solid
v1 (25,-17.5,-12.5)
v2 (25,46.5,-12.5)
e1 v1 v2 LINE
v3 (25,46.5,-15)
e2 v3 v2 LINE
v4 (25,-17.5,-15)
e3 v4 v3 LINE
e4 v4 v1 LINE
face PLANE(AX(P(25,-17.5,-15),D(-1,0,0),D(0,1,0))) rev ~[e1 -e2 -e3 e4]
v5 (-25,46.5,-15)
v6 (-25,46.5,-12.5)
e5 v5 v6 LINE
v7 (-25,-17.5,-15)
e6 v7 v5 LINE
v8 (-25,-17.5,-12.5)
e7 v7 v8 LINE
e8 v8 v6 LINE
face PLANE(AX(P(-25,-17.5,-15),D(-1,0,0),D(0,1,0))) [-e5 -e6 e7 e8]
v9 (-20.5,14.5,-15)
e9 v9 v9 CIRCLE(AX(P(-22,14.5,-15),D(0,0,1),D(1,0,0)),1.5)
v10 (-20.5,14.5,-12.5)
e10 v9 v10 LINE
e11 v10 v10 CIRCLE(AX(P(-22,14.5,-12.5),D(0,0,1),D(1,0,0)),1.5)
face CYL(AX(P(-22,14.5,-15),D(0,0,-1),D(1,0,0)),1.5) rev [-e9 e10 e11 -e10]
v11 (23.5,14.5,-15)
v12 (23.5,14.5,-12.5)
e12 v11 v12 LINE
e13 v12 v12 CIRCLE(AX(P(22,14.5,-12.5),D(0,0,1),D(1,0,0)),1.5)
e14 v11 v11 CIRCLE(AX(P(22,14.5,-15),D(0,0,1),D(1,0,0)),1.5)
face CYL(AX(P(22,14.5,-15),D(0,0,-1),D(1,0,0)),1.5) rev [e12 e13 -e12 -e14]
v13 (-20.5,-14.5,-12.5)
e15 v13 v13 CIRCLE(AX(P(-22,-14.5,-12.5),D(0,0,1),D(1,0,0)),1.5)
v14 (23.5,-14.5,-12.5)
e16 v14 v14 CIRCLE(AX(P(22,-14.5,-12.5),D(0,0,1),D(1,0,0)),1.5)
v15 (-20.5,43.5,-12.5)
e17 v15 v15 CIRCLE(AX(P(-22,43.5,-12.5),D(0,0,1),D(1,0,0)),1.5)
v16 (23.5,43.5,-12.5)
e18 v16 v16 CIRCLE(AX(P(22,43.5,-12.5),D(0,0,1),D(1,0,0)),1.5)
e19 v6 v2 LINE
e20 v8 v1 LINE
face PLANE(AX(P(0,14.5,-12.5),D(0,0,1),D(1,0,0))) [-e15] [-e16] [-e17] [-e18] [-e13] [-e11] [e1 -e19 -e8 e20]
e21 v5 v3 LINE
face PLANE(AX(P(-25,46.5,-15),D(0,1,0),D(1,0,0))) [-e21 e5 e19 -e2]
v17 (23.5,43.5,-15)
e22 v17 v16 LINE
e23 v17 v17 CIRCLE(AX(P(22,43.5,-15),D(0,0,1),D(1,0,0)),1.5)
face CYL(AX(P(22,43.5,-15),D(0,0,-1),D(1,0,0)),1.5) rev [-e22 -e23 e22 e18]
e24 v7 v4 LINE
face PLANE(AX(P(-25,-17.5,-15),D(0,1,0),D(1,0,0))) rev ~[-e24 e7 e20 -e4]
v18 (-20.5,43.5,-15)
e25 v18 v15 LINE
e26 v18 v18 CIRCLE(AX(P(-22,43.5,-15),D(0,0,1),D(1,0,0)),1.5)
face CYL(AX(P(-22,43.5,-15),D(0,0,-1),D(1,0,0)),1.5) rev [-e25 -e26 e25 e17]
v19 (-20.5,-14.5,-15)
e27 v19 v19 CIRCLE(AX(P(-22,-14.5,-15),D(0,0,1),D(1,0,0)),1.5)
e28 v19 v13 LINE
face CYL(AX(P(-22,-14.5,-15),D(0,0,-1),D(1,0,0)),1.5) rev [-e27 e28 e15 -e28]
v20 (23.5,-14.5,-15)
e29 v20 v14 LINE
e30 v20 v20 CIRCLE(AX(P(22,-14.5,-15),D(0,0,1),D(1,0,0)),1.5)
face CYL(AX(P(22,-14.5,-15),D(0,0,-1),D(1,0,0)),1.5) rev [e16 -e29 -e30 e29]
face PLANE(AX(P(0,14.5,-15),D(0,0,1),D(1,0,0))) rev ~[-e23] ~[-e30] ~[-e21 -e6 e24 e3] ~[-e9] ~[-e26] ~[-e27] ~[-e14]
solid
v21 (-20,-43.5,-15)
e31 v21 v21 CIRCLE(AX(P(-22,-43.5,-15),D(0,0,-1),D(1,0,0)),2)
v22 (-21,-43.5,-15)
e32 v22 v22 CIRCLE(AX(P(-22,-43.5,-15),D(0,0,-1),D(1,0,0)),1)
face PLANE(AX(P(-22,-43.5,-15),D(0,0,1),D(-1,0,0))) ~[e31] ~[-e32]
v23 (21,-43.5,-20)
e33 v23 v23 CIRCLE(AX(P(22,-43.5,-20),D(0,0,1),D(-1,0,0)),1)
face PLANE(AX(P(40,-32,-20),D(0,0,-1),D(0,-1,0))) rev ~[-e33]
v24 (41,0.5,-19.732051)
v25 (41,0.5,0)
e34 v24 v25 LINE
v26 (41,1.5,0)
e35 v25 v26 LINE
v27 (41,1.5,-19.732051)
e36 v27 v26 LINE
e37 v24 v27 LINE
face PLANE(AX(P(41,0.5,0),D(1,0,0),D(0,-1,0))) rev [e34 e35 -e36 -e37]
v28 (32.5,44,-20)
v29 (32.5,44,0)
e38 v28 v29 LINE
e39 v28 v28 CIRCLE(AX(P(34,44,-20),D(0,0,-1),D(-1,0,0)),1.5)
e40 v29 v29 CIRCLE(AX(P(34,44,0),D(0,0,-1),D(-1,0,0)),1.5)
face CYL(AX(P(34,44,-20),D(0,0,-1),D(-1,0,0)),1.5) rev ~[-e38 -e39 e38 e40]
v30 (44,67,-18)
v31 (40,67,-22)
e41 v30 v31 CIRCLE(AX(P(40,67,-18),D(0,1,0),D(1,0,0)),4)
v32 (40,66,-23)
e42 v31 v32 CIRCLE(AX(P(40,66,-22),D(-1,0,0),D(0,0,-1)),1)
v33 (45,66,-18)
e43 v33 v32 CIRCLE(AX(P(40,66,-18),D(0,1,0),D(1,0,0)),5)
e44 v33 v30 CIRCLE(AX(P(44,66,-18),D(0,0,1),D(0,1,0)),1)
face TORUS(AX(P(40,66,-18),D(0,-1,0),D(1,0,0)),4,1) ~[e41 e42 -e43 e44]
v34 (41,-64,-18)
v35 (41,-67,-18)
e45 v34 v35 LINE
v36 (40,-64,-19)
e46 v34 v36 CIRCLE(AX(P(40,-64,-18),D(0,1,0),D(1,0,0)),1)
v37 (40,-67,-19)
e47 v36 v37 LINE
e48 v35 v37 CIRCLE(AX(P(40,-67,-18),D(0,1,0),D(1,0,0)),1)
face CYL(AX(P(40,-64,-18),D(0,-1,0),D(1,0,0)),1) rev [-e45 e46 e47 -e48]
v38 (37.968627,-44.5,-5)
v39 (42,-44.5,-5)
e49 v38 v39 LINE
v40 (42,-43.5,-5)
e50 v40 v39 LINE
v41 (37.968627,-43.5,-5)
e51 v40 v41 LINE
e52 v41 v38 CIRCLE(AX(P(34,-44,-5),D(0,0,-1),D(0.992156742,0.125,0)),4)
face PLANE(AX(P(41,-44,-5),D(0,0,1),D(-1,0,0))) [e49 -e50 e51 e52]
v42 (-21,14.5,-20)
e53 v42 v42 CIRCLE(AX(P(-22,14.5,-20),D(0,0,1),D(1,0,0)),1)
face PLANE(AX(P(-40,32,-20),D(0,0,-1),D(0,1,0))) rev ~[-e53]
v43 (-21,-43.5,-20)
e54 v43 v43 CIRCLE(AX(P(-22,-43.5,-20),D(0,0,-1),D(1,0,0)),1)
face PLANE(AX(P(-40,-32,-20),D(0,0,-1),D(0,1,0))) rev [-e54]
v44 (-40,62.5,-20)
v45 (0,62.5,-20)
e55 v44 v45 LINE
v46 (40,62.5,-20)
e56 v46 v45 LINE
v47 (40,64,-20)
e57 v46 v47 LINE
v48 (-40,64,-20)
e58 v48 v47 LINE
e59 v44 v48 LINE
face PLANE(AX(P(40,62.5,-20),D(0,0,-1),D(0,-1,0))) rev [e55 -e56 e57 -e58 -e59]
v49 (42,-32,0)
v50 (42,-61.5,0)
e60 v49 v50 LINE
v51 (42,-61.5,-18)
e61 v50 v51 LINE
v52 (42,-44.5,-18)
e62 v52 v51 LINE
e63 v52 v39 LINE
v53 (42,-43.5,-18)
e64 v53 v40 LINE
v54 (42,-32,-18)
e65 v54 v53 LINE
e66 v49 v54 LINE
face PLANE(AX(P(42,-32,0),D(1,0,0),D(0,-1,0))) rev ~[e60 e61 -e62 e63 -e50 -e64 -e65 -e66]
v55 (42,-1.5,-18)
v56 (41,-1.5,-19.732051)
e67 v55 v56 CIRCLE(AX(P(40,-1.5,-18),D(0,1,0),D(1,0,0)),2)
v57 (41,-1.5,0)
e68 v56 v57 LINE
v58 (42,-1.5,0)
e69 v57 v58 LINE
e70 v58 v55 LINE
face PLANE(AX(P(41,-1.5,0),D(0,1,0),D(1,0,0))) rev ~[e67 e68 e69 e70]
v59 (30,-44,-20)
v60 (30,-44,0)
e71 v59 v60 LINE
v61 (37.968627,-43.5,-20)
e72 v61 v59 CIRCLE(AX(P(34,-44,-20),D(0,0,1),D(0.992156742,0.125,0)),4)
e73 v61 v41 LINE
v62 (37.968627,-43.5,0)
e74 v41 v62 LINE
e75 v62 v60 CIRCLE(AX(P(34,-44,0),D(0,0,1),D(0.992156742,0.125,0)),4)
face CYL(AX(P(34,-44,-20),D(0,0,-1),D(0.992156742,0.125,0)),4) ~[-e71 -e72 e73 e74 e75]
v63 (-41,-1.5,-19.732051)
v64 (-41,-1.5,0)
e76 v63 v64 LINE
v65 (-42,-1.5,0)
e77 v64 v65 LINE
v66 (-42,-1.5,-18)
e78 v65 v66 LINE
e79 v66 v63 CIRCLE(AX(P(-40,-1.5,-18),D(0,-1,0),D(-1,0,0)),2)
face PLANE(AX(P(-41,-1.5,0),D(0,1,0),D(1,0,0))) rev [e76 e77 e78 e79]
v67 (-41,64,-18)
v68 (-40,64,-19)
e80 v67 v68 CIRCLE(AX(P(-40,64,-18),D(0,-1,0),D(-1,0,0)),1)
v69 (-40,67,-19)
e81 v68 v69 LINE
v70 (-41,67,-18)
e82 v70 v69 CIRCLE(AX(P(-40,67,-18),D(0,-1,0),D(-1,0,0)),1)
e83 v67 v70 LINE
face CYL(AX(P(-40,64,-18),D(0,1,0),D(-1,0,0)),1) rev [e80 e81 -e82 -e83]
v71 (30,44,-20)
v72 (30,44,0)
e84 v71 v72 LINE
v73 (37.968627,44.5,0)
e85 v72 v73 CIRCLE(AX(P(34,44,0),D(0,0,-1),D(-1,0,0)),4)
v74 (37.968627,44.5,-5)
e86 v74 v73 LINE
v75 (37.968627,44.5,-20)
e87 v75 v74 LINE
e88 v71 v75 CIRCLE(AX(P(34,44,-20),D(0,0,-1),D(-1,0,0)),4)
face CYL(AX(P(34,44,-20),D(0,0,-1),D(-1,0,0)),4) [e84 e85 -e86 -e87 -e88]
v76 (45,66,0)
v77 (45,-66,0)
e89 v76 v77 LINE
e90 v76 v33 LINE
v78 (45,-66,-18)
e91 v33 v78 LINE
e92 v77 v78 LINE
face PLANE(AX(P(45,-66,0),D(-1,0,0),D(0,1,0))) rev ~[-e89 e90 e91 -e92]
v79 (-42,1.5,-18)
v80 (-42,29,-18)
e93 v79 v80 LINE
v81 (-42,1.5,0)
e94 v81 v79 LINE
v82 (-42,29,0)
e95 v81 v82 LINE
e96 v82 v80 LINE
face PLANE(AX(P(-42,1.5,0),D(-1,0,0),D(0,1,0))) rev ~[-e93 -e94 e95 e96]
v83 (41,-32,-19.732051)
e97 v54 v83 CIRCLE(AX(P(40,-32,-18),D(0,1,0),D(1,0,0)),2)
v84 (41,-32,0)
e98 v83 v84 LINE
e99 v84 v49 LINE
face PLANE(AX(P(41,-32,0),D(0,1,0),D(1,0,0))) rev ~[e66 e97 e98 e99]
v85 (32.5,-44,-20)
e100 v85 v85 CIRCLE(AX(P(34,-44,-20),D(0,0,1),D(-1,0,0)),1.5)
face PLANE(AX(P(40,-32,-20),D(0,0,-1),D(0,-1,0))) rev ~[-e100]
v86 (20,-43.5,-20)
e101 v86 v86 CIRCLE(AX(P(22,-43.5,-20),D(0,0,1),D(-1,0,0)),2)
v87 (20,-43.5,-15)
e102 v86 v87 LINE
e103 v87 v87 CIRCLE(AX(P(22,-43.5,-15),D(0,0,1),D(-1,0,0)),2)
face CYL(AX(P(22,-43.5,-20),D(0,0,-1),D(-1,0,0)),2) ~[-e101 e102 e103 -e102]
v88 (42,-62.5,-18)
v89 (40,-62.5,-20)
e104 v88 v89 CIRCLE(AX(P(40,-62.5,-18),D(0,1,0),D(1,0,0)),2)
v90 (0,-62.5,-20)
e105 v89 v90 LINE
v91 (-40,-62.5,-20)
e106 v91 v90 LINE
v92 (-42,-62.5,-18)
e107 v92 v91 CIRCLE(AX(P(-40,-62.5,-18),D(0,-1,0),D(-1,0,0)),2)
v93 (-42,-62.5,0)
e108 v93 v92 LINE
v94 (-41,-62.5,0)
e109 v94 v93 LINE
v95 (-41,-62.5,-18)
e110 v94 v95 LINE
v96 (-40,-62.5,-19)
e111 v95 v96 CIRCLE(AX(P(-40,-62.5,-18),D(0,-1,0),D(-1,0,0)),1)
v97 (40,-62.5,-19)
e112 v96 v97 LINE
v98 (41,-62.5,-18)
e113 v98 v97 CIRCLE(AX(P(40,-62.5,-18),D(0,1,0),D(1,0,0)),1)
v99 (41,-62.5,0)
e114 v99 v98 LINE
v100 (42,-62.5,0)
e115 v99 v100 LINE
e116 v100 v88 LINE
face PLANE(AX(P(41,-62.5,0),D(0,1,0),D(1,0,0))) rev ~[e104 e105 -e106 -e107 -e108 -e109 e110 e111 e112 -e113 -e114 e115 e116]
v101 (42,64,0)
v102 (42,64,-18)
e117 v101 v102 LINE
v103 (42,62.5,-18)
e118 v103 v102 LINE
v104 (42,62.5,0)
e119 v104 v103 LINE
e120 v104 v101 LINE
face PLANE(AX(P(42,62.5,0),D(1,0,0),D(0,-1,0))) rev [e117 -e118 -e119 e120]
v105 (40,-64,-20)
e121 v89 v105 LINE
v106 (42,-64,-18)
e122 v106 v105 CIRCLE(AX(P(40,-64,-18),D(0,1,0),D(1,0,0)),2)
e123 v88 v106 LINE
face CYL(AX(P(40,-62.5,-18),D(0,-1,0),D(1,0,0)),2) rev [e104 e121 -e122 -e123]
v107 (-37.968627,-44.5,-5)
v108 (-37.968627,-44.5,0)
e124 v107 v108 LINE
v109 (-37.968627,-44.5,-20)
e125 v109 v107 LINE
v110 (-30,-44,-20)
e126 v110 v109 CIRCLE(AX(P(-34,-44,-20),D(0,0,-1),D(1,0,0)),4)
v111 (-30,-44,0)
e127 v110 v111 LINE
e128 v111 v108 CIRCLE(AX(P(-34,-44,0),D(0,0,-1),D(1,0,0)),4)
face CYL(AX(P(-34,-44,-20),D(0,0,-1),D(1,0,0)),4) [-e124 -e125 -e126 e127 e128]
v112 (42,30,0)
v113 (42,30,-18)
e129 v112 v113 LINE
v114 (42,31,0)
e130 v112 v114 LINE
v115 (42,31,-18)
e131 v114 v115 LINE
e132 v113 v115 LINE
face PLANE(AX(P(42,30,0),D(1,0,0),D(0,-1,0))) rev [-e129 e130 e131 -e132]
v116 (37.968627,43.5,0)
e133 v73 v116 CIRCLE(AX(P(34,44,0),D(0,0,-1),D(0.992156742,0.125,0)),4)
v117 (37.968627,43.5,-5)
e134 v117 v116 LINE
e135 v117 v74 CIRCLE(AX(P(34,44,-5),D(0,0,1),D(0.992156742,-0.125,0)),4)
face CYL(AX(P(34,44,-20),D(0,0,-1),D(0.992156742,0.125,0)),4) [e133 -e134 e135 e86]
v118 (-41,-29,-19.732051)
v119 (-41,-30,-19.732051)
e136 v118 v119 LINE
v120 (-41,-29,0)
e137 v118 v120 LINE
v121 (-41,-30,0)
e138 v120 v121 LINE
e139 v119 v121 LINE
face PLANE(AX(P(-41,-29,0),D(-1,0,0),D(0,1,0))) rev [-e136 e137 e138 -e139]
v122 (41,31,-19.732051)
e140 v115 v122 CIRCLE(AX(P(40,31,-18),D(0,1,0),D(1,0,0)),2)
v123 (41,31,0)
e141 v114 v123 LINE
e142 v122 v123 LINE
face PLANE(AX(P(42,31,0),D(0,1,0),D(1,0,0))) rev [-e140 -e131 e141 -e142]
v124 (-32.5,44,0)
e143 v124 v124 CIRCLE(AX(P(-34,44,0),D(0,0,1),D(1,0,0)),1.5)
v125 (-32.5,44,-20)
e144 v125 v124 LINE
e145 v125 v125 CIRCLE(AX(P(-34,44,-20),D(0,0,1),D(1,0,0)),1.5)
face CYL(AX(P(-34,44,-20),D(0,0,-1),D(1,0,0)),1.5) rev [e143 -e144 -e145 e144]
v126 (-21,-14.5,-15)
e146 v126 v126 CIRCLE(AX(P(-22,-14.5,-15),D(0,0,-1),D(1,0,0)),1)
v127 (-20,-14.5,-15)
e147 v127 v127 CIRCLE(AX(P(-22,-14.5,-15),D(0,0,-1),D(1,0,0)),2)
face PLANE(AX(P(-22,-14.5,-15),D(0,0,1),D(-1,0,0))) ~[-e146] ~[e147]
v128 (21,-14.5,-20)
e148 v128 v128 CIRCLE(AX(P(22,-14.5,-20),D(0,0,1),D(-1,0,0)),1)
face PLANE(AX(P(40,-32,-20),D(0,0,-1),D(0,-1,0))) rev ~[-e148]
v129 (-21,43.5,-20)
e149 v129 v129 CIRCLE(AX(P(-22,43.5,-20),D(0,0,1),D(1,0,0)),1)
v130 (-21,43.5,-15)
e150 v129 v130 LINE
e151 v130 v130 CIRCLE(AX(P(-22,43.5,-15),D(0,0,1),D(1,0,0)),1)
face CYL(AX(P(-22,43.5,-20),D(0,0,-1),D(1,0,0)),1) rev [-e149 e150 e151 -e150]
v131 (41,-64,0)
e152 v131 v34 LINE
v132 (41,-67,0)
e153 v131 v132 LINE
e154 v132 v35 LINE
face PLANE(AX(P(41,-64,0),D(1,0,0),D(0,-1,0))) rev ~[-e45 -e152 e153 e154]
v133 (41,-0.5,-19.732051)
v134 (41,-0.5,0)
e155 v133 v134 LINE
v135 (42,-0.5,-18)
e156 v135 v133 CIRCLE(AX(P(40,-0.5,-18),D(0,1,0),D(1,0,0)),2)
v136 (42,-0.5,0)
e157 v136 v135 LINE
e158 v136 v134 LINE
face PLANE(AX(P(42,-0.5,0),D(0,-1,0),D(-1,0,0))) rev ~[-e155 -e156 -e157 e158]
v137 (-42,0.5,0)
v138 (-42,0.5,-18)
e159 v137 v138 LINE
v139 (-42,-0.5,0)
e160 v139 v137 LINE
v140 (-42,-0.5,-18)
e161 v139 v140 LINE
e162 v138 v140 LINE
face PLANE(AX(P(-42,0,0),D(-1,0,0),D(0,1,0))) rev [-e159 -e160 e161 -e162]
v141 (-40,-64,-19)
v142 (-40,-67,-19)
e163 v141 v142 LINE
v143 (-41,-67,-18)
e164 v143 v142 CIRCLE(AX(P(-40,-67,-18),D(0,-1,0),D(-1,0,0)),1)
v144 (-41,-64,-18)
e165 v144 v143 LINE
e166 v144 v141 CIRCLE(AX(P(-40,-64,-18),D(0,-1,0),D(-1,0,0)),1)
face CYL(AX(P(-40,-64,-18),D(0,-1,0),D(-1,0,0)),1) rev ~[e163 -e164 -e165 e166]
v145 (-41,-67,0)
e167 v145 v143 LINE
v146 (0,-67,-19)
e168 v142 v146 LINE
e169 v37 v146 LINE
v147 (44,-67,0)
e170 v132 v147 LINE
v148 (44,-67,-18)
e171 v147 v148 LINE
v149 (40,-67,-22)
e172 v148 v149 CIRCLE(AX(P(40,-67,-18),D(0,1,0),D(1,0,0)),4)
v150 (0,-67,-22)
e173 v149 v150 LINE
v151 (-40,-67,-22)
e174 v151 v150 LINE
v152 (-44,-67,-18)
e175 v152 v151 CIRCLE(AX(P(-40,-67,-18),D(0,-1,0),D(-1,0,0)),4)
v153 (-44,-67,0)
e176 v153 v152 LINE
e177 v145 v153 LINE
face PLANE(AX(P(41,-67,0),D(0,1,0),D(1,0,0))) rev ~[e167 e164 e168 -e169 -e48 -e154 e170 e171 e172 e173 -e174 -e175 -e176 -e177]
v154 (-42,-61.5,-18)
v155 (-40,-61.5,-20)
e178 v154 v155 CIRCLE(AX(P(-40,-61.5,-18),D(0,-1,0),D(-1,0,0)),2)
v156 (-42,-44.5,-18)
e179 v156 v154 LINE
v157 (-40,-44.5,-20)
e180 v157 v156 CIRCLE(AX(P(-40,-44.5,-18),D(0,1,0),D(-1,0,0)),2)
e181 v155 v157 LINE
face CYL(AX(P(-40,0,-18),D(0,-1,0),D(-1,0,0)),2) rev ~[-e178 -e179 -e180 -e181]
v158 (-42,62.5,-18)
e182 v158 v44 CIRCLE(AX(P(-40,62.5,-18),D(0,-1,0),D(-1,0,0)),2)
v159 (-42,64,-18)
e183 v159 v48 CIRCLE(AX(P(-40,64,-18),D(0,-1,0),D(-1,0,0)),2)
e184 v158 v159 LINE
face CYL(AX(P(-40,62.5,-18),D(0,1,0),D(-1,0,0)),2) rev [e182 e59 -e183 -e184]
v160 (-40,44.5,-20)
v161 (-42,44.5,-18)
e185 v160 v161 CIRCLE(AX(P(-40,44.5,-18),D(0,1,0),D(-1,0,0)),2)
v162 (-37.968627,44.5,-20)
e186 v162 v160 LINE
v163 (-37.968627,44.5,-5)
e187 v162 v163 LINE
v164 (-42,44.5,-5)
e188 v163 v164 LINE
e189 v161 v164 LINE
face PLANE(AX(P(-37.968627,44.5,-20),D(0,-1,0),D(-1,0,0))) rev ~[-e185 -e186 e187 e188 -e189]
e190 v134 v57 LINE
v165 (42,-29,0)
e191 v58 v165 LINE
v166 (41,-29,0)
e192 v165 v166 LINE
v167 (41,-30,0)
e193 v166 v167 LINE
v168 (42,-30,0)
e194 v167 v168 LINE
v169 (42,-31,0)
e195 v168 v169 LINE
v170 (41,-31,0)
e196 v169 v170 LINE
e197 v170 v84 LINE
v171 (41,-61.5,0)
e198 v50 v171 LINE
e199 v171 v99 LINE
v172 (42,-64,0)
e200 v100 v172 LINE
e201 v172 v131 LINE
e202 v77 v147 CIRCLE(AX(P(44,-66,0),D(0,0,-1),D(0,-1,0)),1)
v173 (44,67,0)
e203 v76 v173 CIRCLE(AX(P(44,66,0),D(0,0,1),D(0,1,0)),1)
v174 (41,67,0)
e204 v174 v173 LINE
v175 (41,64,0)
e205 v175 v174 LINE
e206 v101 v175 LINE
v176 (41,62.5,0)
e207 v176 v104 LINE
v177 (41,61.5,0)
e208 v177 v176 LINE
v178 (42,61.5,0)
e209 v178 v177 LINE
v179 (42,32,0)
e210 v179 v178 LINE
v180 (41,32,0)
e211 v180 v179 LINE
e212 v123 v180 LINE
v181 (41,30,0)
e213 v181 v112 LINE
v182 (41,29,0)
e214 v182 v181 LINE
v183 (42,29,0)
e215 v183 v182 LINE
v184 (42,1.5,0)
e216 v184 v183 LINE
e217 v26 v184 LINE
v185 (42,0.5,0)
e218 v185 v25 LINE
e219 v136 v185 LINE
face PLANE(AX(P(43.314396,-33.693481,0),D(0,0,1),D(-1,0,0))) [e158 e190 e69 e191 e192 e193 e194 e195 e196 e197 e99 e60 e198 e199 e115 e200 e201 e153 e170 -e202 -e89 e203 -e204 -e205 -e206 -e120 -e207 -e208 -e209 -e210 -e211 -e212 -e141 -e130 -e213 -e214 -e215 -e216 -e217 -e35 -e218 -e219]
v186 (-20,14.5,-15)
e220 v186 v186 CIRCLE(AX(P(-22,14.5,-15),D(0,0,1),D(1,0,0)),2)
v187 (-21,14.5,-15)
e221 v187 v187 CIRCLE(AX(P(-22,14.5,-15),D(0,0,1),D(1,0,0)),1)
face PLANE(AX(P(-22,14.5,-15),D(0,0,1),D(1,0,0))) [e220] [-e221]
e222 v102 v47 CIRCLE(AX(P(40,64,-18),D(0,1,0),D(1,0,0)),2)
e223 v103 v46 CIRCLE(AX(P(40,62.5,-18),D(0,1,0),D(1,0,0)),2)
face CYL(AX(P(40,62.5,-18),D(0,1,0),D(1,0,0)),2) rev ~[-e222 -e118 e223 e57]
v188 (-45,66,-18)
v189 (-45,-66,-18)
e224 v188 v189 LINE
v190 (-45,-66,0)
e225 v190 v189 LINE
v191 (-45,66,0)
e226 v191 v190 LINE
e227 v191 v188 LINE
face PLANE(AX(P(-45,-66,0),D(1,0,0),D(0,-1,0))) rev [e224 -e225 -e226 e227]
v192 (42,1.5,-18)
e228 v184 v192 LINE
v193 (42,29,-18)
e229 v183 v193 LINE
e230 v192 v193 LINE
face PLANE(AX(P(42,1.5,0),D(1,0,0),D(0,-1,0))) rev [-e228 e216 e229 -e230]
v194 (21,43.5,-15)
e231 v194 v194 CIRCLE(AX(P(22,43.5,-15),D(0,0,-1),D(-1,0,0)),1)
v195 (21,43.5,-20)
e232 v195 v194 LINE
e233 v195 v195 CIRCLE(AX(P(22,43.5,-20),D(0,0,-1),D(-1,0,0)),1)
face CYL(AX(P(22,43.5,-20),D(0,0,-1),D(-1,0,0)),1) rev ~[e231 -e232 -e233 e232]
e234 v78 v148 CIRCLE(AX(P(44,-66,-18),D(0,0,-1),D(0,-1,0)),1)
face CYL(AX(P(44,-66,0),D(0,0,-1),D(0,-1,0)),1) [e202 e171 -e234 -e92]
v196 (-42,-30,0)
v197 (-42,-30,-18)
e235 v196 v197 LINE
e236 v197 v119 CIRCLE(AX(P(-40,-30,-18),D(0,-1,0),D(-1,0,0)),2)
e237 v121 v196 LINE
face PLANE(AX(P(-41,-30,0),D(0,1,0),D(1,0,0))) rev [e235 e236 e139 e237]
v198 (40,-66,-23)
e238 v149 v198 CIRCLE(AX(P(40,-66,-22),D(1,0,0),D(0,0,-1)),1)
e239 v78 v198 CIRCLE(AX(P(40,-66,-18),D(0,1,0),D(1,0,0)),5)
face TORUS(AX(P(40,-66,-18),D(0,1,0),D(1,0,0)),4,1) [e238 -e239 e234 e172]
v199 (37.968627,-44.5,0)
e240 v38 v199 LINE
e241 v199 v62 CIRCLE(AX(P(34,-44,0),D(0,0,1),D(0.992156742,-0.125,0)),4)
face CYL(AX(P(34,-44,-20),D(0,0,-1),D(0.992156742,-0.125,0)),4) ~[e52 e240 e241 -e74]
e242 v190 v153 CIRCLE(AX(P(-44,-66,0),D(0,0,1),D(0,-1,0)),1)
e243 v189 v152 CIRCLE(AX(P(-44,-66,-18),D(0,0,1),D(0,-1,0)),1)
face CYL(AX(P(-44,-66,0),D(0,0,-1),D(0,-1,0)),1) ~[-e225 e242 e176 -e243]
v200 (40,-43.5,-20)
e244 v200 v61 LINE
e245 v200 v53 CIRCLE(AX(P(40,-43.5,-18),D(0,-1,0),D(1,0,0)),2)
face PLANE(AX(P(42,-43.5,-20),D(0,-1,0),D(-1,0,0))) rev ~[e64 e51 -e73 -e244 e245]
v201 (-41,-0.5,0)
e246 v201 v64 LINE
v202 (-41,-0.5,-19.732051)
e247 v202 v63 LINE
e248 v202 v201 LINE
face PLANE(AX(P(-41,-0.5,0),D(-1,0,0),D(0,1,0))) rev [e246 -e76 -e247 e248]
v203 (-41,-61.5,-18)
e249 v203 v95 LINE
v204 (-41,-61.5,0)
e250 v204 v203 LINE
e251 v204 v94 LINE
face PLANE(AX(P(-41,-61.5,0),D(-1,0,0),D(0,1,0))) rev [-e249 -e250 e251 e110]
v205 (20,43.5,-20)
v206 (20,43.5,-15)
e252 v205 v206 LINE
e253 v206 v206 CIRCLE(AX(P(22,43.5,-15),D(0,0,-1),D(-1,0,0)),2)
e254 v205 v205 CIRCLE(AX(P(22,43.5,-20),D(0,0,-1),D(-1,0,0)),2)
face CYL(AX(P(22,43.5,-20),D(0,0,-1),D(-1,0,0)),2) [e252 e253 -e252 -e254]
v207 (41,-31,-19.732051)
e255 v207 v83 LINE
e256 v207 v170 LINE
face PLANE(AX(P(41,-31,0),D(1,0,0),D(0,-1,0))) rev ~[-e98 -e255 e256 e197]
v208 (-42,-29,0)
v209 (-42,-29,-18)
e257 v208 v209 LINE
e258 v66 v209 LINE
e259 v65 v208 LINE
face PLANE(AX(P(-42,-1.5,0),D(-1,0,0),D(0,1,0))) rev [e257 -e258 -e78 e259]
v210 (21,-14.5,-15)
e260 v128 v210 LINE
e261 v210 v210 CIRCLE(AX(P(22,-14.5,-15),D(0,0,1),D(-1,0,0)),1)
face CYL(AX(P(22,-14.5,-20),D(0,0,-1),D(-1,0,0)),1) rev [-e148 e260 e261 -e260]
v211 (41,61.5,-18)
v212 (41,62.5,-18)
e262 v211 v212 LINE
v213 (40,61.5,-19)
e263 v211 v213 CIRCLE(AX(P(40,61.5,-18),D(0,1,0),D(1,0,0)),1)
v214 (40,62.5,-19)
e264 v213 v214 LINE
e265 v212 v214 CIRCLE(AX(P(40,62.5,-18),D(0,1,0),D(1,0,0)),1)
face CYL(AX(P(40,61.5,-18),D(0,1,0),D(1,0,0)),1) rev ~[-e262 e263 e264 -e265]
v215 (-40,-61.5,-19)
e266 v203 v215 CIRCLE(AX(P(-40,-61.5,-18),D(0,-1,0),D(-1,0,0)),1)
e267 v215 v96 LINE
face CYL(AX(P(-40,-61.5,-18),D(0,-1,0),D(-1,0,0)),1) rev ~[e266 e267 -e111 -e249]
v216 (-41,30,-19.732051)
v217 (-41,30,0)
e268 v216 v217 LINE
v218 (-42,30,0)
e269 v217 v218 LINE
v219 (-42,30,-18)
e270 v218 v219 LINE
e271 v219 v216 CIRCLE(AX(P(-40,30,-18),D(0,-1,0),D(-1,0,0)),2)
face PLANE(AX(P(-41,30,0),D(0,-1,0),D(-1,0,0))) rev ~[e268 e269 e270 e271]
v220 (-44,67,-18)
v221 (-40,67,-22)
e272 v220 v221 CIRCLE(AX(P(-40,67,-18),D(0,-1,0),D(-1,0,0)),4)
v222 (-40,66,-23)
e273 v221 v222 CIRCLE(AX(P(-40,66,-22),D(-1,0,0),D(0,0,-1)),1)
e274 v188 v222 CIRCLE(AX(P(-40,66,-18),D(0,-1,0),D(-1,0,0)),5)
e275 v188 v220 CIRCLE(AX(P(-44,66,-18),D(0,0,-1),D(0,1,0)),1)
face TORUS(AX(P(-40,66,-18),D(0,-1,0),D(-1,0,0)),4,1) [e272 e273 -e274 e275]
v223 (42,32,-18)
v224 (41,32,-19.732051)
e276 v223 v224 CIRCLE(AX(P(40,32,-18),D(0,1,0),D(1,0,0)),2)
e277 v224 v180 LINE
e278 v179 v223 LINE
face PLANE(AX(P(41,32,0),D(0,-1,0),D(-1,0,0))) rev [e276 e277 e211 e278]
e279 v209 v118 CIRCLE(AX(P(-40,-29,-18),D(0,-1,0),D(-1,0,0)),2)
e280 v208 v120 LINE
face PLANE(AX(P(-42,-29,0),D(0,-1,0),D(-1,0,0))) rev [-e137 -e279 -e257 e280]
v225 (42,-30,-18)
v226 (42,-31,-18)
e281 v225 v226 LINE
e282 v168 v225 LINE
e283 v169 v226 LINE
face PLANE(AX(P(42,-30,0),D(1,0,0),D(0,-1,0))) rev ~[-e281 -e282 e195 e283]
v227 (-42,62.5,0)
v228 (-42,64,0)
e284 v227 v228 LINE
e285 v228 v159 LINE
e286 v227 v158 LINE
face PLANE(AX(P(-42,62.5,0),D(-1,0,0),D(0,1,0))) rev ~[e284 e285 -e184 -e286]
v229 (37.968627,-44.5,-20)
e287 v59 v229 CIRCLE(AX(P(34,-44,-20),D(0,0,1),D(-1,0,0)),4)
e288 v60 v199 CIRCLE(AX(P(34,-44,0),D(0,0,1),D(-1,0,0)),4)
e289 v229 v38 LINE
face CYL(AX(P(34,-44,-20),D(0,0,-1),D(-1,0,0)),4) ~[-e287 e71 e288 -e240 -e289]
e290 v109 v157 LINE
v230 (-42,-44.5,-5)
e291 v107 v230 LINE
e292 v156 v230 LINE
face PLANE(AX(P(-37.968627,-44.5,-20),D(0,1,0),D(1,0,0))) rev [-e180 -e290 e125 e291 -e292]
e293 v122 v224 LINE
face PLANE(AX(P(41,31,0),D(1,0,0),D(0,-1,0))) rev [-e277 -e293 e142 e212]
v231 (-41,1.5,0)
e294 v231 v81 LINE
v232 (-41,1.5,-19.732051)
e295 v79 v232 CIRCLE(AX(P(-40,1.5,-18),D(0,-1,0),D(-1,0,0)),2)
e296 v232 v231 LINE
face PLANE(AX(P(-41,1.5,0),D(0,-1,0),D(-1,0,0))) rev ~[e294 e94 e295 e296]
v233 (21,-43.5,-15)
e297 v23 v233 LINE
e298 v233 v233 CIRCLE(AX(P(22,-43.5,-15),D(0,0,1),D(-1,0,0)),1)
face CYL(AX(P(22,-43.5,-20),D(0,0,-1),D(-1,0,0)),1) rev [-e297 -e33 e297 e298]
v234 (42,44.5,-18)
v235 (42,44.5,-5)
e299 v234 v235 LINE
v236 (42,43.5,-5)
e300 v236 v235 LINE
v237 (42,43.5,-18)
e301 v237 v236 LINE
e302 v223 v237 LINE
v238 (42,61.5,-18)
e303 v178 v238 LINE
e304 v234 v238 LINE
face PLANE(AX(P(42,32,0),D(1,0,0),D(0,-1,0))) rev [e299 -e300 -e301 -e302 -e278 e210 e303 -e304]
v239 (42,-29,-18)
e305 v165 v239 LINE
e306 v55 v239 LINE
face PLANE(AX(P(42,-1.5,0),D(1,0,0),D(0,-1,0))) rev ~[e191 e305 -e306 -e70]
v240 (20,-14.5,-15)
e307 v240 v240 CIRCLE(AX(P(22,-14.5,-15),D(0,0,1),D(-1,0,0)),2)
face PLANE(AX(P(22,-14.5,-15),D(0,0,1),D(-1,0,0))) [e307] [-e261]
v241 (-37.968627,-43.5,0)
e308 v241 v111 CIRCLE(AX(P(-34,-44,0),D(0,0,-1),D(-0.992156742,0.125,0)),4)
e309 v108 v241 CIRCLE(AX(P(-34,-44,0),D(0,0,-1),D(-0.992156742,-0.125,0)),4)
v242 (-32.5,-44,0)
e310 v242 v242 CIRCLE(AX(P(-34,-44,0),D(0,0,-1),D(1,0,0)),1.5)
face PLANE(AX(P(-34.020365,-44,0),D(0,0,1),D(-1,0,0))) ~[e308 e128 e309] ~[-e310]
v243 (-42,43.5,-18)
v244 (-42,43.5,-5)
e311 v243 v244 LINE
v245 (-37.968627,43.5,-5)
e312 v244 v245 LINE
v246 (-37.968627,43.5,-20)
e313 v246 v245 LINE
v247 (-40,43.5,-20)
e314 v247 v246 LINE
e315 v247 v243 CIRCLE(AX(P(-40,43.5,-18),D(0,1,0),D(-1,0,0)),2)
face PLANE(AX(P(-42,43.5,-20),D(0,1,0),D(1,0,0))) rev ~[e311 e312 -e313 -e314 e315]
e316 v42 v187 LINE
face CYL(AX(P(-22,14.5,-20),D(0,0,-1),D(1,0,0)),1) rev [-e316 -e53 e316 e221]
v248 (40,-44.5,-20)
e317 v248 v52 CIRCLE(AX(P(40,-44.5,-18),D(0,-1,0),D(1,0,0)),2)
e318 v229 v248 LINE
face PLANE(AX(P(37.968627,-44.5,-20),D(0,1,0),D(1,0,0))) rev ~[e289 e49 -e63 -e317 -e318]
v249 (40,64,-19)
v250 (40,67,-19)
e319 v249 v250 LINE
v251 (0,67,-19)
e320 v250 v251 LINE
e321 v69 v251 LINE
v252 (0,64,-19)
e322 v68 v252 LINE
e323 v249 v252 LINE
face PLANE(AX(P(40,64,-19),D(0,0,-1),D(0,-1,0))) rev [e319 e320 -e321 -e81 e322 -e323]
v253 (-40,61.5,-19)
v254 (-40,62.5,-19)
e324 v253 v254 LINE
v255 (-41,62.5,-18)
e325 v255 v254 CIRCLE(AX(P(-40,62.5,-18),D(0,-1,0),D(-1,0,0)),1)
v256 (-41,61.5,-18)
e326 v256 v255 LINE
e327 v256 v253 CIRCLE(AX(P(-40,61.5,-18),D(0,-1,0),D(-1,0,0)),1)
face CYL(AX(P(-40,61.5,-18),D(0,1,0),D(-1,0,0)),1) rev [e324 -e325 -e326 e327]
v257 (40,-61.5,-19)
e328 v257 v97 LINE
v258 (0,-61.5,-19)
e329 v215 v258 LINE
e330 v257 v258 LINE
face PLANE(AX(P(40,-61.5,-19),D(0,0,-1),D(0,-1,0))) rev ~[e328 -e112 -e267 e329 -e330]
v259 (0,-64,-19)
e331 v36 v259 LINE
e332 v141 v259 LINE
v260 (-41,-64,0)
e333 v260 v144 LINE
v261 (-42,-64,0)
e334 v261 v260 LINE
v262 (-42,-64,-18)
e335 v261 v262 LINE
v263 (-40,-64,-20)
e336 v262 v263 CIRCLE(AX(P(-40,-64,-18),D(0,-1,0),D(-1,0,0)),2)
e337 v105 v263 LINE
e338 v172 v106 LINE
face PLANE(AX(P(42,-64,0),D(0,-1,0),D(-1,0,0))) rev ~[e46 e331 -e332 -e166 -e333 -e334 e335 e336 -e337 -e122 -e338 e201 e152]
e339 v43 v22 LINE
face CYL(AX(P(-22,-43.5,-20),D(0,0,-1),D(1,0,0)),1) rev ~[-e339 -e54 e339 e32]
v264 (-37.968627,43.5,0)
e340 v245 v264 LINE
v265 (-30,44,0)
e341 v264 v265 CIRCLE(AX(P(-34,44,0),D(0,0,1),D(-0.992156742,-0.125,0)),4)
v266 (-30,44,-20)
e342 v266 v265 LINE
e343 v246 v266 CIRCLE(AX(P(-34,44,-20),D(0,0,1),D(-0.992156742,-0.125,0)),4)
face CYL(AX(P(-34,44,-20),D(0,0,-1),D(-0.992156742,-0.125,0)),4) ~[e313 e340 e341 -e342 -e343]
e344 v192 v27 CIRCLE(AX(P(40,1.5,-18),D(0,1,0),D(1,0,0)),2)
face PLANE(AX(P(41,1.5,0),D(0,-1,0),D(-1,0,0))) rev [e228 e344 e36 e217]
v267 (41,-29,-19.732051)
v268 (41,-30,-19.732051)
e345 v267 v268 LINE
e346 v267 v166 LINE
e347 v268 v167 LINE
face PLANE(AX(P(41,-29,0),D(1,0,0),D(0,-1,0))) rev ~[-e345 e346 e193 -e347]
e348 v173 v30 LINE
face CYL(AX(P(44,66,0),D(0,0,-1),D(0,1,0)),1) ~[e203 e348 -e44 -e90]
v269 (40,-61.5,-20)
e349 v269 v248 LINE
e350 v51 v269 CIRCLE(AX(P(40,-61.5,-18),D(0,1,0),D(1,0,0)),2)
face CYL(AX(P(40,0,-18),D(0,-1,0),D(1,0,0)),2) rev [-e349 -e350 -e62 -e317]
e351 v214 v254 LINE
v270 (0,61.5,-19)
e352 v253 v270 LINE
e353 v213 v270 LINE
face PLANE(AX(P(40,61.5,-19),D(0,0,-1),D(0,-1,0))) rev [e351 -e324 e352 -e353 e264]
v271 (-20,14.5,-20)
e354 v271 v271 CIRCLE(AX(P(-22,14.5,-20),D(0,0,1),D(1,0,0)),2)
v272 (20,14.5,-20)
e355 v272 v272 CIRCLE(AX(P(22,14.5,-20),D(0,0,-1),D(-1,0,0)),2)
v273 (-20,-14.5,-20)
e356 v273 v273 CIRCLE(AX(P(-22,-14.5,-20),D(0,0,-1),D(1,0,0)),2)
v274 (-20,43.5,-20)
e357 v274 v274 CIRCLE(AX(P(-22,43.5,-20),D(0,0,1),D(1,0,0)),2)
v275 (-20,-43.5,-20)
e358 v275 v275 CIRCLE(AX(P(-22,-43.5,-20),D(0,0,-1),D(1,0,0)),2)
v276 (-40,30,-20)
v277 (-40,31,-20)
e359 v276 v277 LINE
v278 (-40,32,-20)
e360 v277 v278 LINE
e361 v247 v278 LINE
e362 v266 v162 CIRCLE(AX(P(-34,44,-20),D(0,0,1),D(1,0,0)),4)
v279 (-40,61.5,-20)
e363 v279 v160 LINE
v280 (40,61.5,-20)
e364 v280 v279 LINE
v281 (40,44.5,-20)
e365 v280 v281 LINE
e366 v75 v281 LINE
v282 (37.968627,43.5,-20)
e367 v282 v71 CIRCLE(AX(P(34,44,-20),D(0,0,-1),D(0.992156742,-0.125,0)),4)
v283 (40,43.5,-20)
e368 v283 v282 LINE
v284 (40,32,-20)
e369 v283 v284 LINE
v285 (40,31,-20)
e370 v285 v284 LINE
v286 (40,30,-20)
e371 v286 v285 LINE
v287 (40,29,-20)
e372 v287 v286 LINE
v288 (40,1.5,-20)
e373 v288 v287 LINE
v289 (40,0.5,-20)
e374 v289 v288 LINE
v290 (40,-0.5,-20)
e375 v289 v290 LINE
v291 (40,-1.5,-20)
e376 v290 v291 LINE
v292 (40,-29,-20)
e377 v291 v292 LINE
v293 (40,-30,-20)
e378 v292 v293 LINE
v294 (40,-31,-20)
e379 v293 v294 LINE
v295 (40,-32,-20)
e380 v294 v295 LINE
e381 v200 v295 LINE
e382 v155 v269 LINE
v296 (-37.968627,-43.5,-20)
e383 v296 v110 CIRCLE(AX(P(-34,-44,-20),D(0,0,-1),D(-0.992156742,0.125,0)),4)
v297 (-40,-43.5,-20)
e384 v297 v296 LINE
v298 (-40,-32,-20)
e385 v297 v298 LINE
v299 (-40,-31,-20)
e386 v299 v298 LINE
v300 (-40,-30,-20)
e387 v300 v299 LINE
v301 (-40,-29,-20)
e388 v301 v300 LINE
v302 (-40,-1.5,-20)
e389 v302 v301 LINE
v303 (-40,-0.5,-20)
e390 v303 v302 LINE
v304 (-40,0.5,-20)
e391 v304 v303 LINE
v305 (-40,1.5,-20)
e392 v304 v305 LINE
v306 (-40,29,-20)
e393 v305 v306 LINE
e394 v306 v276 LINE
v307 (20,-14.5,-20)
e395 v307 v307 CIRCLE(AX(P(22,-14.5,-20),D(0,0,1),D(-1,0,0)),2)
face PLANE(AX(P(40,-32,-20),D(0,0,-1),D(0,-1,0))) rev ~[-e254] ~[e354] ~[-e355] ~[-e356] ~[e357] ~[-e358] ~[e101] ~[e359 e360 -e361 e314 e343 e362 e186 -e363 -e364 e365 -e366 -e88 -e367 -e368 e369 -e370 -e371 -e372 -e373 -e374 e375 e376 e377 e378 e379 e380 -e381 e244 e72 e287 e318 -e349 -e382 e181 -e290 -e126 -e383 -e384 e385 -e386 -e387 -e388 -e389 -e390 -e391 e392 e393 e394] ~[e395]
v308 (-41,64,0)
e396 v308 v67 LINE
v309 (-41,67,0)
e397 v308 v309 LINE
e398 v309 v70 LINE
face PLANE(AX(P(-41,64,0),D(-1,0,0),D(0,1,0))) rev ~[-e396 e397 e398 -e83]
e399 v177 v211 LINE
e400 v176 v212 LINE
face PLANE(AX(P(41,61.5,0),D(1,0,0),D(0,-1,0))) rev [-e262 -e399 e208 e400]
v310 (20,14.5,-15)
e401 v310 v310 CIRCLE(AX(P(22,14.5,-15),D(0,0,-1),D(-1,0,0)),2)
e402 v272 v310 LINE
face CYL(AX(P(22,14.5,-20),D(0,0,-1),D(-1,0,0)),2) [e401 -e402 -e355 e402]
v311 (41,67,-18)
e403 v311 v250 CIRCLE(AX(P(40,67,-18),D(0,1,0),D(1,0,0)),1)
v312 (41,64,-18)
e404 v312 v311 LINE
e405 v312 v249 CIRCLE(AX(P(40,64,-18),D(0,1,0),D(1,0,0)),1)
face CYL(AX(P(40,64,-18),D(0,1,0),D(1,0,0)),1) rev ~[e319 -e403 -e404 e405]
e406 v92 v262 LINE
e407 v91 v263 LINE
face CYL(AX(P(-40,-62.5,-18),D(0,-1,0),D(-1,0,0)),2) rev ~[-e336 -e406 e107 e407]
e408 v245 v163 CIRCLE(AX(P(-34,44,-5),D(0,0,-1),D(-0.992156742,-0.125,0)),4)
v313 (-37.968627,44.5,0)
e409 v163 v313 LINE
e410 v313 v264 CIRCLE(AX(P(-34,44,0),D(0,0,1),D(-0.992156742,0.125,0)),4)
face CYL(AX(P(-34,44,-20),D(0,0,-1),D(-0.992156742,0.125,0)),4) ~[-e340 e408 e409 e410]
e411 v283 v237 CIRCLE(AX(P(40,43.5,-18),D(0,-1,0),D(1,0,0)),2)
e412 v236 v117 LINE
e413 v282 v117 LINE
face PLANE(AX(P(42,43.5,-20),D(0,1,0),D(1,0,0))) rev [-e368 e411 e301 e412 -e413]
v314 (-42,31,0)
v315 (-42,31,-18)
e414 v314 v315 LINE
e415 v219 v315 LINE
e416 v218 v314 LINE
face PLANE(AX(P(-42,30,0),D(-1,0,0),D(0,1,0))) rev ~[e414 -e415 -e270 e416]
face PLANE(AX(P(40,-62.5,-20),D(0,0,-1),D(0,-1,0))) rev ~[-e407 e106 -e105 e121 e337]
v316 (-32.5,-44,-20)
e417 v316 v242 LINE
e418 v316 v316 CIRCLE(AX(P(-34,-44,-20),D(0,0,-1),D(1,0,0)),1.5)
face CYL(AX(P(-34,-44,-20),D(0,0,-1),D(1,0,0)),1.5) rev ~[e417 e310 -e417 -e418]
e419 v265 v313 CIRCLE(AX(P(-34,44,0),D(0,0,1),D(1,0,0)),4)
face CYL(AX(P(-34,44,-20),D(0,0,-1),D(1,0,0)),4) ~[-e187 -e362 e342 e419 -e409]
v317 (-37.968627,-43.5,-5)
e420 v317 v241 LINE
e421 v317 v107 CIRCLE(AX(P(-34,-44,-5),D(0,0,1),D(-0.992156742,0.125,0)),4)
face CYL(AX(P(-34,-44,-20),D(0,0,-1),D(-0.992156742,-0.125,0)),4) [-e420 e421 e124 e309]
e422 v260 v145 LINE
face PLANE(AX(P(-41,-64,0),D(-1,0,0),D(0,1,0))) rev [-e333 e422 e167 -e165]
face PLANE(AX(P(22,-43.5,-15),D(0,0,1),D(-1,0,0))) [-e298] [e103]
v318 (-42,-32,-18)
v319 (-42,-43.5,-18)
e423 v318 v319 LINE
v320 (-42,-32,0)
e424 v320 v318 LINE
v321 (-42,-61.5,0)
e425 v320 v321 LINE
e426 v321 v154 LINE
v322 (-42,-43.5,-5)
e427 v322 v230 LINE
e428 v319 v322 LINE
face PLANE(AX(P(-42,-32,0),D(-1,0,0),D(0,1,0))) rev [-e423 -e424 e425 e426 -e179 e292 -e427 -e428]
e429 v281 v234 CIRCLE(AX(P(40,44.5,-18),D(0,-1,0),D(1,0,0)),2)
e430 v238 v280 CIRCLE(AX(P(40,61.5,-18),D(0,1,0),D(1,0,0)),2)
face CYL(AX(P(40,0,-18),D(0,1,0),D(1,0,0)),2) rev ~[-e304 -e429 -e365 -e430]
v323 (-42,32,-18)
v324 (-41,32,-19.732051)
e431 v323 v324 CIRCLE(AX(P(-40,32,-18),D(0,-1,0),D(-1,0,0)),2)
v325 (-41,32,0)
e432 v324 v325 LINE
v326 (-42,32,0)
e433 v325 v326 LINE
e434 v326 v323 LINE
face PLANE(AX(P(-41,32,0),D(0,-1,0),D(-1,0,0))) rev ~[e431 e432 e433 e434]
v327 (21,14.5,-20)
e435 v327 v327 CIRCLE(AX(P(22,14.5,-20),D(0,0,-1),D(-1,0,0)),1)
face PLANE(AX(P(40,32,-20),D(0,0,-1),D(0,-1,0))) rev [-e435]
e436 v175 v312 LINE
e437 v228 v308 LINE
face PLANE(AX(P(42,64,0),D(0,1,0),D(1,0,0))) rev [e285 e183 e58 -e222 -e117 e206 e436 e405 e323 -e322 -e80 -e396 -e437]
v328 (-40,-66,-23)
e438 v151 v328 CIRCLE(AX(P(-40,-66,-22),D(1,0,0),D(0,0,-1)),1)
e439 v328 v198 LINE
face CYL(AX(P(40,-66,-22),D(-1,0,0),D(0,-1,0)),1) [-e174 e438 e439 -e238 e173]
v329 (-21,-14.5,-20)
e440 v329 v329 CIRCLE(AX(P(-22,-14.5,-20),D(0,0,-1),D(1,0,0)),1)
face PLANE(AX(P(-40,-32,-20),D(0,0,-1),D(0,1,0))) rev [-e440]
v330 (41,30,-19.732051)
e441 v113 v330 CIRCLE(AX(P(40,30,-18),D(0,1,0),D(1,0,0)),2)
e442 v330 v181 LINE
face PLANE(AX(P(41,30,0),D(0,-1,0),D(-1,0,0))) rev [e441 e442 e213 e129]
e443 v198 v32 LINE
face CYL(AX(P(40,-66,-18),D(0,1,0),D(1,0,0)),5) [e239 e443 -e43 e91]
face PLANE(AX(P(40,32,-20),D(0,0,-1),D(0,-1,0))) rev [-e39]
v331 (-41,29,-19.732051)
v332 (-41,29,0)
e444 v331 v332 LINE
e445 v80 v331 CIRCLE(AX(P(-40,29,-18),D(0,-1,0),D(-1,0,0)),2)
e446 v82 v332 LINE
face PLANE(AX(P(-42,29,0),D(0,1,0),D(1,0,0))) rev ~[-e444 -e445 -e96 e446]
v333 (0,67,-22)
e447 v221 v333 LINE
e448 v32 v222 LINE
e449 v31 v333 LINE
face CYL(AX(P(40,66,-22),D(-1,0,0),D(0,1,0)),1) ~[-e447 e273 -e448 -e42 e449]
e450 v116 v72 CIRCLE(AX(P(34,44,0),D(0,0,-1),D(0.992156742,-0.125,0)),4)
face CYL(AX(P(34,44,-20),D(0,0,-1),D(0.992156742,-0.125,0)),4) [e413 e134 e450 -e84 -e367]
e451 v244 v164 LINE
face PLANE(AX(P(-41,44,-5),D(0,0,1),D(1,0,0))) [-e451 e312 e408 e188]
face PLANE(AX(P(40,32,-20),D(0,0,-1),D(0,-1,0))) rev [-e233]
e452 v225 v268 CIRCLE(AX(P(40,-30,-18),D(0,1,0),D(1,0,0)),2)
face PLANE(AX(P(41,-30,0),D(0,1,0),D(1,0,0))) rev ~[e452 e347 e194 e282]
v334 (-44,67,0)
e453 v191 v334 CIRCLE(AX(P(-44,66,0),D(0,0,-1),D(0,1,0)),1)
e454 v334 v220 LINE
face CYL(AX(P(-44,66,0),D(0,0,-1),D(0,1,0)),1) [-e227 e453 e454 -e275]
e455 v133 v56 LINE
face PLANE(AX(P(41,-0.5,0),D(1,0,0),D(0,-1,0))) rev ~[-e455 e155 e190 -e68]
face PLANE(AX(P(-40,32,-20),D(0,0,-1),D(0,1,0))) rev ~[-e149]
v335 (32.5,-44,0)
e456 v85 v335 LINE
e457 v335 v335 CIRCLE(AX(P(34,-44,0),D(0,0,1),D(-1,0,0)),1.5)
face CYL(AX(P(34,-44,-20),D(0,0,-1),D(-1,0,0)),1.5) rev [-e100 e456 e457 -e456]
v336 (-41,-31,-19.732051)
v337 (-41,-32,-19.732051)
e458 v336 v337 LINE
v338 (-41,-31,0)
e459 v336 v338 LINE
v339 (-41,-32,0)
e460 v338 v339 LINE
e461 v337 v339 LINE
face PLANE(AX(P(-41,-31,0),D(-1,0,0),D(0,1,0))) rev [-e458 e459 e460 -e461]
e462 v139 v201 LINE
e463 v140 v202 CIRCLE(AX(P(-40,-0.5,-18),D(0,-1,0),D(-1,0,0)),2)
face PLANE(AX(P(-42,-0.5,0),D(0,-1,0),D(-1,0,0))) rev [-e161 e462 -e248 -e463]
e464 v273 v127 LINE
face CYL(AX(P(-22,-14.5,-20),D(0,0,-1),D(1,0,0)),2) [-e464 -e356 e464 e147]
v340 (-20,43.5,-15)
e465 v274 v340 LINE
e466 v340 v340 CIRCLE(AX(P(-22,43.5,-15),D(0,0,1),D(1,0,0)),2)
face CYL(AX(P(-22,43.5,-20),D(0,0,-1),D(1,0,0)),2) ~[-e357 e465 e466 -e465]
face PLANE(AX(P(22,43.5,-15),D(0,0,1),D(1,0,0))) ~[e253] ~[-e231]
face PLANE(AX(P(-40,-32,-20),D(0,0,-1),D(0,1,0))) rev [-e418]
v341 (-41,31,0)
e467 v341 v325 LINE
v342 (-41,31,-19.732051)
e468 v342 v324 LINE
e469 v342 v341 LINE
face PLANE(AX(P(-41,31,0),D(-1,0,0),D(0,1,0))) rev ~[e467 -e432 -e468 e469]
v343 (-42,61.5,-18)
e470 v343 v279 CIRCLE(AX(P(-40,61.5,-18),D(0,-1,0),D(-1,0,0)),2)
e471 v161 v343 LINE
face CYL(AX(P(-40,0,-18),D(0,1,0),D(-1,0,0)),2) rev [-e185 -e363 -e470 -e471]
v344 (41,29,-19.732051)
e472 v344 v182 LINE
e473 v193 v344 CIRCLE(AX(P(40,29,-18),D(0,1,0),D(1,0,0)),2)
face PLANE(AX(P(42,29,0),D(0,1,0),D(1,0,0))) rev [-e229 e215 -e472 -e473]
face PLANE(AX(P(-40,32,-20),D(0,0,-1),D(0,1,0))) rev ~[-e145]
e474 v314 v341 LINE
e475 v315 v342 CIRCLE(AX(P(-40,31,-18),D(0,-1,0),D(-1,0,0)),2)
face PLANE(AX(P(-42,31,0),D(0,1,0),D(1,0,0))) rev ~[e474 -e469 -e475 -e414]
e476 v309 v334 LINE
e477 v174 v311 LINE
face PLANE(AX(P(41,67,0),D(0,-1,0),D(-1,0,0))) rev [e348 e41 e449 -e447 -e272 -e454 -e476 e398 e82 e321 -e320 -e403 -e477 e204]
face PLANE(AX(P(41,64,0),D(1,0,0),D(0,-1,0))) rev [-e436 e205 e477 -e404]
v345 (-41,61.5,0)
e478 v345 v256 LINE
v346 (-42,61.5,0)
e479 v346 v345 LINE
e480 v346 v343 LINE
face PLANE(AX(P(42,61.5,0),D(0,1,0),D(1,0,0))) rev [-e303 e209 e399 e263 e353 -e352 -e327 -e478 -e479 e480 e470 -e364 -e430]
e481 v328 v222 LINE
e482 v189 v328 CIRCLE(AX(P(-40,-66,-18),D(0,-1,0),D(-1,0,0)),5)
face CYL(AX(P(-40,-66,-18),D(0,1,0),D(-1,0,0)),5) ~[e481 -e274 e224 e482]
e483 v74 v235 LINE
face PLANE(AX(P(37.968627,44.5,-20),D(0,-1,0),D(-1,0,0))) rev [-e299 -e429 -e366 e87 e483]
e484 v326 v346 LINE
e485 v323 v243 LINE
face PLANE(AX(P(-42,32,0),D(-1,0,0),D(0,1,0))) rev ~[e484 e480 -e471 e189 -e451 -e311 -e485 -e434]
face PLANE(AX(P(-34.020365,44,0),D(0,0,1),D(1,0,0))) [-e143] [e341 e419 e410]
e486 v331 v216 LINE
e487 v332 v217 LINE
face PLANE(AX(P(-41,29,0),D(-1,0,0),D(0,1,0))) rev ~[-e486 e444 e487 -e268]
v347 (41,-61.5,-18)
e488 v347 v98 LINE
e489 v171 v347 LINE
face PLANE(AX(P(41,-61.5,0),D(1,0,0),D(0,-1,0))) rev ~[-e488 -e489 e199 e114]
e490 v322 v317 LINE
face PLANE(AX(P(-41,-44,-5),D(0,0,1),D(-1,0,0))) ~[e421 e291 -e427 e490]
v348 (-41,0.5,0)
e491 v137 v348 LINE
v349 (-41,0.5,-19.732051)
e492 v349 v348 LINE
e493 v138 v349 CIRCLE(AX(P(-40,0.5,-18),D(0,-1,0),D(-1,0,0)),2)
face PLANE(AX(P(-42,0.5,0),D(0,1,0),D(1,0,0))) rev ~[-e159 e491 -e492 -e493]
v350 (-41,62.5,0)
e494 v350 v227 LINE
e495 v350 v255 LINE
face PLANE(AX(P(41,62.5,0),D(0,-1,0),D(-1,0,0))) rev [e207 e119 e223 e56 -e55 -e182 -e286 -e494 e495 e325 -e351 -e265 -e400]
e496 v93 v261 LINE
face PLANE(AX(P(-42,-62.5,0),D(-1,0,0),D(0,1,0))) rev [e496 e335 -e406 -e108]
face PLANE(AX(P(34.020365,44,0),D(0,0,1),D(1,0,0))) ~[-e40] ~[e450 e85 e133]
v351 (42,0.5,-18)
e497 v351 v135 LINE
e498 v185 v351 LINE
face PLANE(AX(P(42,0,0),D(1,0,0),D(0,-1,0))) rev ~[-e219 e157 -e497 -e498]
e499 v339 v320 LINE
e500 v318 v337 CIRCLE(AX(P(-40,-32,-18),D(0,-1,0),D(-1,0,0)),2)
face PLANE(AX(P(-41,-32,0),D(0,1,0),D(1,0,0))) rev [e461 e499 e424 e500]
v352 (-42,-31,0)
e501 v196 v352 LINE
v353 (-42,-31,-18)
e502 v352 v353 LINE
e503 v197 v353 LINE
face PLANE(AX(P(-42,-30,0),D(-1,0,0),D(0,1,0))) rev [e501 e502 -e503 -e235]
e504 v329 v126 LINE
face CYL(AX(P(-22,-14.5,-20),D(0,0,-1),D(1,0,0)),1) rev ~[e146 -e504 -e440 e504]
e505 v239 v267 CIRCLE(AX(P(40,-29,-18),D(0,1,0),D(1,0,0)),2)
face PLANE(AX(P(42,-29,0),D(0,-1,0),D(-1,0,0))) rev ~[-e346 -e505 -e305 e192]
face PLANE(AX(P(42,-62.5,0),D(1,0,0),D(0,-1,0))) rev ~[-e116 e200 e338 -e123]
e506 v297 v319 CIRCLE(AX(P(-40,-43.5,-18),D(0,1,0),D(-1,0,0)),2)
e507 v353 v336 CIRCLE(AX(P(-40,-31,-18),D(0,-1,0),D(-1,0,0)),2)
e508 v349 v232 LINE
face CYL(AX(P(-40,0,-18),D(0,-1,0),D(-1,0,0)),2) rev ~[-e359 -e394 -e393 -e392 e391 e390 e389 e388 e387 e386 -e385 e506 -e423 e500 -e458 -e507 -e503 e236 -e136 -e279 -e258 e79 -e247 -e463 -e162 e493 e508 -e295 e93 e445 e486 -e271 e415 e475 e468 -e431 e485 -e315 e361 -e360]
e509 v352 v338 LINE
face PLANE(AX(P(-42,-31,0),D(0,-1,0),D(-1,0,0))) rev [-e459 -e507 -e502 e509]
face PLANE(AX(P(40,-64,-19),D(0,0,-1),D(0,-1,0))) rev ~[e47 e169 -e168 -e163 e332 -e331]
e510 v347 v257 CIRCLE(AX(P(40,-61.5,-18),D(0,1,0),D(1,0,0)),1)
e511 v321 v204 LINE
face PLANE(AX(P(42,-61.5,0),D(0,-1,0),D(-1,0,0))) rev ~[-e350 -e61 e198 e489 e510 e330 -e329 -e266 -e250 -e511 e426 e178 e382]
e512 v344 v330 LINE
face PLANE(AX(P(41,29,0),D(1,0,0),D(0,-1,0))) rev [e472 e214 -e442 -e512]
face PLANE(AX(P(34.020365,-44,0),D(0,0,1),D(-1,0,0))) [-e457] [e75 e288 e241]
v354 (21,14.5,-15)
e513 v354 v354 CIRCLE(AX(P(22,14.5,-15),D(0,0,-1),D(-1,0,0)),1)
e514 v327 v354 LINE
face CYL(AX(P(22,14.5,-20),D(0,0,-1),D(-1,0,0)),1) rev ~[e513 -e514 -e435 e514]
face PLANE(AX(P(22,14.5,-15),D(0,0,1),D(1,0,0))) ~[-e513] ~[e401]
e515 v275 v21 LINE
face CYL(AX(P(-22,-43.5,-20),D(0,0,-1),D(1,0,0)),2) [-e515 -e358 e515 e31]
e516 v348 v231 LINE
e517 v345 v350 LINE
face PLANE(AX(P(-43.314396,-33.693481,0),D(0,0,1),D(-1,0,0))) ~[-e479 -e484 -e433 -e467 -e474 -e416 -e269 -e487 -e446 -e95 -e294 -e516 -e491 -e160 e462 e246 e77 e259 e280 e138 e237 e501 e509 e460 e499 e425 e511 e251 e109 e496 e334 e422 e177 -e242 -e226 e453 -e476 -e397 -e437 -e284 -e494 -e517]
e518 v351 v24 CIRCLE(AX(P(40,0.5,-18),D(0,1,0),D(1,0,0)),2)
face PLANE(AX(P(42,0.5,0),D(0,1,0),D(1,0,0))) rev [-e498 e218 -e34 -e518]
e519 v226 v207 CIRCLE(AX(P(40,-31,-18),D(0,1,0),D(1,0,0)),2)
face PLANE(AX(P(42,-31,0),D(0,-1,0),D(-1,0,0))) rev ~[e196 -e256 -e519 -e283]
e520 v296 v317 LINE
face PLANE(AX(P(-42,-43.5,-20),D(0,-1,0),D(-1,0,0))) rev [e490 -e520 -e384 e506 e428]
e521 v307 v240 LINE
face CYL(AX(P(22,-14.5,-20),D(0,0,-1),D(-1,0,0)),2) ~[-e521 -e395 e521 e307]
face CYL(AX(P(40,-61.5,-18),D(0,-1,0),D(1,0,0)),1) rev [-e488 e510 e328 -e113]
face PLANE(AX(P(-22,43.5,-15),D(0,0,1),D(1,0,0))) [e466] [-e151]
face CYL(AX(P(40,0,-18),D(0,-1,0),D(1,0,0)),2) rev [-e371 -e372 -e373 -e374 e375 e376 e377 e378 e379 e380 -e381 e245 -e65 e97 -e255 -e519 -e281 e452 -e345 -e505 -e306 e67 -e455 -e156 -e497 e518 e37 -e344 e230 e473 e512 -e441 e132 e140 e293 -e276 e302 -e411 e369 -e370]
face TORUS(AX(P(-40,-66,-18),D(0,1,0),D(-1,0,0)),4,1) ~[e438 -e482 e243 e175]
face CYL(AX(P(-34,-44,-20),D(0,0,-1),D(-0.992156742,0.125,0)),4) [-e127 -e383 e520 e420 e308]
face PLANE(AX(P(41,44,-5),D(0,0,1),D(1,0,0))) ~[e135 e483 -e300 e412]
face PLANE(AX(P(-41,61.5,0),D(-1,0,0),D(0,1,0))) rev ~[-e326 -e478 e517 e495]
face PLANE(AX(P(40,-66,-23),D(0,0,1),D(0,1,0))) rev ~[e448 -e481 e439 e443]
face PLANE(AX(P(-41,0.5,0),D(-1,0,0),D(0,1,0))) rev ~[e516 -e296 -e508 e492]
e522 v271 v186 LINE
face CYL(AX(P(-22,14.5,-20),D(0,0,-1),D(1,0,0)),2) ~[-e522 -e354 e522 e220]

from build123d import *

# Parameters (mm, degrees)
F4_DEPTH  = 40
F5_R      = 1.5
F6_DEPTH  = 20
F5_W      = 2
F5_H      = 1
F7_DEPTH  = 15
F5_R_2    = 2
F5_R_3    = 1
F8_DEPTH  = 5
F11_W     = 50
F11_H     = 64
F11_R     = 1.5
F12_DEPTH = 2.5


with BuildPart() as f2:
    # F2: sweep along a path in F1
    with BuildLine(Plane.XZ) as f2_path:
        Line((-45, 0), (-45, -18))
        ThreePointArc((-45, -18), (-43.5355339059, -21.5355339059), (-40, -23))
        Line((-40, -23), (0, -23))
    # F0 (on Top) → F2 (sweep)
    with BuildSketch(Plane.XY):
        with BuildLine():
            Line((-41, 67), (-44, 67))
            ThreePointArc((-44, 67), (-44.7071067812, 66.7071067812), (-45, 66))
            Line((-45, 66), (-45, 0))
            Line((-45, 0), (-42, 0))
            Line((-42, 0), (-42, 0.5))
            Line((-42, 0.5), (-41, 0.5))
            Line((-41, 0.5), (-41, 1.5))
            Line((-41, 1.5), (-42, 1.5))
            Line((-42, 1.5), (-42, 29))
            Line((-42, 29), (-41, 29))
            Line((-41, 29), (-41, 30))
            Line((-41, 30), (-42, 30))
            Line((-42, 30), (-42, 31))
            Line((-42, 31), (-41, 31))
            Line((-41, 31), (-41, 32))
            Line((-41, 32), (-42, 32))
            Line((-42, 32), (-42, 61.5))
            Line((-42, 61.5), (-41, 61.5))
            Line((-41, 61.5), (-41, 62.5))
            Line((-41, 62.5), (-42, 62.5))
            Line((-42, 62.5), (-42, 64))
            Line((-42, 64), (-41, 64))
            Line((-41, 64), (-41, 67))
        make_face()
    sweep(path=f2_path.line)

    # F3 (on Front) → F4 (cut)
    with BuildSketch(Plane.XZ):
        with BuildLine():
            Line((0, -20), (0, -13.3407218382))
            Line((0, -13.3407218382), (-41, -13.3407218382))
            Line((-41, -13.3407218382), (-41, -19.7320508076))
            ThreePointArc((-41, -19.7320508076), (-40.5176380902, -19.9318516526), (-40, -20))
            Line((-40, -20), (0, -20))
        make_face()
    extrude(amount=-F4_DEPTH, mode=Mode.SUBTRACT)

    # F5 (on face) → F6 (join)
    with BuildSketch(Plane.XY.offset(-20)):
        with BuildLine():
            ThreePointArc((-37.9686269666, 43.5), (-33.7495083498, 40.0078509631), (-30, 44))
            ThreePointArc((-30, 44), (-33.7495083498, 47.9921490369), (-37.9686269666, 44.5))
            ThreePointArc((-37.9686269666, 44.5), (-38, 44), (-37.9686269666, 43.5))
        make_face()
        with Locations((-34, 44)):
            Circle(F5_R, mode=Mode.SUBTRACT)
    extrude(amount=F6_DEPTH)

    # F5 (on face) → F7 (join)
    with BuildSketch(Plane.XY.offset(-20)):
        with Locations((-41, 44)):
            Rectangle(F5_W, F5_H)
        with BuildLine():
            ThreePointArc((-37.9686269666, 43.5), (-38, 44), (-37.9686269666, 44.5))
            Line((-37.9686269666, 44.5), (-40, 44.5))
            Line((-40, 44.5), (-40, 43.5))
            Line((-40, 43.5), (-37.9686269666, 43.5))
        make_face()
    extrude(amount=F7_DEPTH)

    # F5 (on face) → F8 (join)
    with BuildSketch(Plane.XY.offset(-20)):
        with Locations((-22, 43.5)):
            Circle(F5_R_2)
        with Locations((-22, 43.5)):
            Circle(F5_R_3, mode=Mode.SUBTRACT)
        with Locations((-22, 14.5)):
            Circle(F5_R_2)
        with Locations((-22, 14.5)):
            Circle(F5_R_3, mode=Mode.SUBTRACT)
    extrude(amount=F8_DEPTH)

    # F9: F2 across face


with BuildPart() as f2_1:
    add(f2.part)
    add(f2.part.mirror(Plane(origin=(-28.5980278594, 0, -17.8582627773), x_dir=(1, 0, 0), z_dir=(0, -1, 0))))

    # F10: F2 across face


with BuildPart() as f2_2:
    add(f2_1.part)
    add(f2_1.part.mirror(Plane(origin=(0, 0, -21.459596887), x_dir=(0, 1, 0), z_dir=(1, 0, 0))))


with BuildPart() as f12:
    # F11 (on face) → F12 (new body)
    with BuildSketch(Plane.XY.offset(-15)):
        with Locations((0, 14.5)):
            Rectangle(F11_W, F11_H)
        with Locations((-22, -14.5)):
            Circle(F11_R, mode=Mode.SUBTRACT)
        with Locations((22, -14.5)):
            Circle(F11_R, mode=Mode.SUBTRACT)
        with Locations((-22, 14.5)):
            Circle(F11_R, mode=Mode.SUBTRACT)
        with Locations((-22, 43.5)):
            Circle(F11_R, mode=Mode.SUBTRACT)
        with Locations((22, 14.5)):
            Circle(F11_R, mode=Mode.SUBTRACT)
        with Locations((22, 43.5)):
            Circle(F11_R, mode=Mode.SUBTRACT)
    extrude(amount=F12_DEPTH)


solid = Compound([f2_2.part, f12.part])
